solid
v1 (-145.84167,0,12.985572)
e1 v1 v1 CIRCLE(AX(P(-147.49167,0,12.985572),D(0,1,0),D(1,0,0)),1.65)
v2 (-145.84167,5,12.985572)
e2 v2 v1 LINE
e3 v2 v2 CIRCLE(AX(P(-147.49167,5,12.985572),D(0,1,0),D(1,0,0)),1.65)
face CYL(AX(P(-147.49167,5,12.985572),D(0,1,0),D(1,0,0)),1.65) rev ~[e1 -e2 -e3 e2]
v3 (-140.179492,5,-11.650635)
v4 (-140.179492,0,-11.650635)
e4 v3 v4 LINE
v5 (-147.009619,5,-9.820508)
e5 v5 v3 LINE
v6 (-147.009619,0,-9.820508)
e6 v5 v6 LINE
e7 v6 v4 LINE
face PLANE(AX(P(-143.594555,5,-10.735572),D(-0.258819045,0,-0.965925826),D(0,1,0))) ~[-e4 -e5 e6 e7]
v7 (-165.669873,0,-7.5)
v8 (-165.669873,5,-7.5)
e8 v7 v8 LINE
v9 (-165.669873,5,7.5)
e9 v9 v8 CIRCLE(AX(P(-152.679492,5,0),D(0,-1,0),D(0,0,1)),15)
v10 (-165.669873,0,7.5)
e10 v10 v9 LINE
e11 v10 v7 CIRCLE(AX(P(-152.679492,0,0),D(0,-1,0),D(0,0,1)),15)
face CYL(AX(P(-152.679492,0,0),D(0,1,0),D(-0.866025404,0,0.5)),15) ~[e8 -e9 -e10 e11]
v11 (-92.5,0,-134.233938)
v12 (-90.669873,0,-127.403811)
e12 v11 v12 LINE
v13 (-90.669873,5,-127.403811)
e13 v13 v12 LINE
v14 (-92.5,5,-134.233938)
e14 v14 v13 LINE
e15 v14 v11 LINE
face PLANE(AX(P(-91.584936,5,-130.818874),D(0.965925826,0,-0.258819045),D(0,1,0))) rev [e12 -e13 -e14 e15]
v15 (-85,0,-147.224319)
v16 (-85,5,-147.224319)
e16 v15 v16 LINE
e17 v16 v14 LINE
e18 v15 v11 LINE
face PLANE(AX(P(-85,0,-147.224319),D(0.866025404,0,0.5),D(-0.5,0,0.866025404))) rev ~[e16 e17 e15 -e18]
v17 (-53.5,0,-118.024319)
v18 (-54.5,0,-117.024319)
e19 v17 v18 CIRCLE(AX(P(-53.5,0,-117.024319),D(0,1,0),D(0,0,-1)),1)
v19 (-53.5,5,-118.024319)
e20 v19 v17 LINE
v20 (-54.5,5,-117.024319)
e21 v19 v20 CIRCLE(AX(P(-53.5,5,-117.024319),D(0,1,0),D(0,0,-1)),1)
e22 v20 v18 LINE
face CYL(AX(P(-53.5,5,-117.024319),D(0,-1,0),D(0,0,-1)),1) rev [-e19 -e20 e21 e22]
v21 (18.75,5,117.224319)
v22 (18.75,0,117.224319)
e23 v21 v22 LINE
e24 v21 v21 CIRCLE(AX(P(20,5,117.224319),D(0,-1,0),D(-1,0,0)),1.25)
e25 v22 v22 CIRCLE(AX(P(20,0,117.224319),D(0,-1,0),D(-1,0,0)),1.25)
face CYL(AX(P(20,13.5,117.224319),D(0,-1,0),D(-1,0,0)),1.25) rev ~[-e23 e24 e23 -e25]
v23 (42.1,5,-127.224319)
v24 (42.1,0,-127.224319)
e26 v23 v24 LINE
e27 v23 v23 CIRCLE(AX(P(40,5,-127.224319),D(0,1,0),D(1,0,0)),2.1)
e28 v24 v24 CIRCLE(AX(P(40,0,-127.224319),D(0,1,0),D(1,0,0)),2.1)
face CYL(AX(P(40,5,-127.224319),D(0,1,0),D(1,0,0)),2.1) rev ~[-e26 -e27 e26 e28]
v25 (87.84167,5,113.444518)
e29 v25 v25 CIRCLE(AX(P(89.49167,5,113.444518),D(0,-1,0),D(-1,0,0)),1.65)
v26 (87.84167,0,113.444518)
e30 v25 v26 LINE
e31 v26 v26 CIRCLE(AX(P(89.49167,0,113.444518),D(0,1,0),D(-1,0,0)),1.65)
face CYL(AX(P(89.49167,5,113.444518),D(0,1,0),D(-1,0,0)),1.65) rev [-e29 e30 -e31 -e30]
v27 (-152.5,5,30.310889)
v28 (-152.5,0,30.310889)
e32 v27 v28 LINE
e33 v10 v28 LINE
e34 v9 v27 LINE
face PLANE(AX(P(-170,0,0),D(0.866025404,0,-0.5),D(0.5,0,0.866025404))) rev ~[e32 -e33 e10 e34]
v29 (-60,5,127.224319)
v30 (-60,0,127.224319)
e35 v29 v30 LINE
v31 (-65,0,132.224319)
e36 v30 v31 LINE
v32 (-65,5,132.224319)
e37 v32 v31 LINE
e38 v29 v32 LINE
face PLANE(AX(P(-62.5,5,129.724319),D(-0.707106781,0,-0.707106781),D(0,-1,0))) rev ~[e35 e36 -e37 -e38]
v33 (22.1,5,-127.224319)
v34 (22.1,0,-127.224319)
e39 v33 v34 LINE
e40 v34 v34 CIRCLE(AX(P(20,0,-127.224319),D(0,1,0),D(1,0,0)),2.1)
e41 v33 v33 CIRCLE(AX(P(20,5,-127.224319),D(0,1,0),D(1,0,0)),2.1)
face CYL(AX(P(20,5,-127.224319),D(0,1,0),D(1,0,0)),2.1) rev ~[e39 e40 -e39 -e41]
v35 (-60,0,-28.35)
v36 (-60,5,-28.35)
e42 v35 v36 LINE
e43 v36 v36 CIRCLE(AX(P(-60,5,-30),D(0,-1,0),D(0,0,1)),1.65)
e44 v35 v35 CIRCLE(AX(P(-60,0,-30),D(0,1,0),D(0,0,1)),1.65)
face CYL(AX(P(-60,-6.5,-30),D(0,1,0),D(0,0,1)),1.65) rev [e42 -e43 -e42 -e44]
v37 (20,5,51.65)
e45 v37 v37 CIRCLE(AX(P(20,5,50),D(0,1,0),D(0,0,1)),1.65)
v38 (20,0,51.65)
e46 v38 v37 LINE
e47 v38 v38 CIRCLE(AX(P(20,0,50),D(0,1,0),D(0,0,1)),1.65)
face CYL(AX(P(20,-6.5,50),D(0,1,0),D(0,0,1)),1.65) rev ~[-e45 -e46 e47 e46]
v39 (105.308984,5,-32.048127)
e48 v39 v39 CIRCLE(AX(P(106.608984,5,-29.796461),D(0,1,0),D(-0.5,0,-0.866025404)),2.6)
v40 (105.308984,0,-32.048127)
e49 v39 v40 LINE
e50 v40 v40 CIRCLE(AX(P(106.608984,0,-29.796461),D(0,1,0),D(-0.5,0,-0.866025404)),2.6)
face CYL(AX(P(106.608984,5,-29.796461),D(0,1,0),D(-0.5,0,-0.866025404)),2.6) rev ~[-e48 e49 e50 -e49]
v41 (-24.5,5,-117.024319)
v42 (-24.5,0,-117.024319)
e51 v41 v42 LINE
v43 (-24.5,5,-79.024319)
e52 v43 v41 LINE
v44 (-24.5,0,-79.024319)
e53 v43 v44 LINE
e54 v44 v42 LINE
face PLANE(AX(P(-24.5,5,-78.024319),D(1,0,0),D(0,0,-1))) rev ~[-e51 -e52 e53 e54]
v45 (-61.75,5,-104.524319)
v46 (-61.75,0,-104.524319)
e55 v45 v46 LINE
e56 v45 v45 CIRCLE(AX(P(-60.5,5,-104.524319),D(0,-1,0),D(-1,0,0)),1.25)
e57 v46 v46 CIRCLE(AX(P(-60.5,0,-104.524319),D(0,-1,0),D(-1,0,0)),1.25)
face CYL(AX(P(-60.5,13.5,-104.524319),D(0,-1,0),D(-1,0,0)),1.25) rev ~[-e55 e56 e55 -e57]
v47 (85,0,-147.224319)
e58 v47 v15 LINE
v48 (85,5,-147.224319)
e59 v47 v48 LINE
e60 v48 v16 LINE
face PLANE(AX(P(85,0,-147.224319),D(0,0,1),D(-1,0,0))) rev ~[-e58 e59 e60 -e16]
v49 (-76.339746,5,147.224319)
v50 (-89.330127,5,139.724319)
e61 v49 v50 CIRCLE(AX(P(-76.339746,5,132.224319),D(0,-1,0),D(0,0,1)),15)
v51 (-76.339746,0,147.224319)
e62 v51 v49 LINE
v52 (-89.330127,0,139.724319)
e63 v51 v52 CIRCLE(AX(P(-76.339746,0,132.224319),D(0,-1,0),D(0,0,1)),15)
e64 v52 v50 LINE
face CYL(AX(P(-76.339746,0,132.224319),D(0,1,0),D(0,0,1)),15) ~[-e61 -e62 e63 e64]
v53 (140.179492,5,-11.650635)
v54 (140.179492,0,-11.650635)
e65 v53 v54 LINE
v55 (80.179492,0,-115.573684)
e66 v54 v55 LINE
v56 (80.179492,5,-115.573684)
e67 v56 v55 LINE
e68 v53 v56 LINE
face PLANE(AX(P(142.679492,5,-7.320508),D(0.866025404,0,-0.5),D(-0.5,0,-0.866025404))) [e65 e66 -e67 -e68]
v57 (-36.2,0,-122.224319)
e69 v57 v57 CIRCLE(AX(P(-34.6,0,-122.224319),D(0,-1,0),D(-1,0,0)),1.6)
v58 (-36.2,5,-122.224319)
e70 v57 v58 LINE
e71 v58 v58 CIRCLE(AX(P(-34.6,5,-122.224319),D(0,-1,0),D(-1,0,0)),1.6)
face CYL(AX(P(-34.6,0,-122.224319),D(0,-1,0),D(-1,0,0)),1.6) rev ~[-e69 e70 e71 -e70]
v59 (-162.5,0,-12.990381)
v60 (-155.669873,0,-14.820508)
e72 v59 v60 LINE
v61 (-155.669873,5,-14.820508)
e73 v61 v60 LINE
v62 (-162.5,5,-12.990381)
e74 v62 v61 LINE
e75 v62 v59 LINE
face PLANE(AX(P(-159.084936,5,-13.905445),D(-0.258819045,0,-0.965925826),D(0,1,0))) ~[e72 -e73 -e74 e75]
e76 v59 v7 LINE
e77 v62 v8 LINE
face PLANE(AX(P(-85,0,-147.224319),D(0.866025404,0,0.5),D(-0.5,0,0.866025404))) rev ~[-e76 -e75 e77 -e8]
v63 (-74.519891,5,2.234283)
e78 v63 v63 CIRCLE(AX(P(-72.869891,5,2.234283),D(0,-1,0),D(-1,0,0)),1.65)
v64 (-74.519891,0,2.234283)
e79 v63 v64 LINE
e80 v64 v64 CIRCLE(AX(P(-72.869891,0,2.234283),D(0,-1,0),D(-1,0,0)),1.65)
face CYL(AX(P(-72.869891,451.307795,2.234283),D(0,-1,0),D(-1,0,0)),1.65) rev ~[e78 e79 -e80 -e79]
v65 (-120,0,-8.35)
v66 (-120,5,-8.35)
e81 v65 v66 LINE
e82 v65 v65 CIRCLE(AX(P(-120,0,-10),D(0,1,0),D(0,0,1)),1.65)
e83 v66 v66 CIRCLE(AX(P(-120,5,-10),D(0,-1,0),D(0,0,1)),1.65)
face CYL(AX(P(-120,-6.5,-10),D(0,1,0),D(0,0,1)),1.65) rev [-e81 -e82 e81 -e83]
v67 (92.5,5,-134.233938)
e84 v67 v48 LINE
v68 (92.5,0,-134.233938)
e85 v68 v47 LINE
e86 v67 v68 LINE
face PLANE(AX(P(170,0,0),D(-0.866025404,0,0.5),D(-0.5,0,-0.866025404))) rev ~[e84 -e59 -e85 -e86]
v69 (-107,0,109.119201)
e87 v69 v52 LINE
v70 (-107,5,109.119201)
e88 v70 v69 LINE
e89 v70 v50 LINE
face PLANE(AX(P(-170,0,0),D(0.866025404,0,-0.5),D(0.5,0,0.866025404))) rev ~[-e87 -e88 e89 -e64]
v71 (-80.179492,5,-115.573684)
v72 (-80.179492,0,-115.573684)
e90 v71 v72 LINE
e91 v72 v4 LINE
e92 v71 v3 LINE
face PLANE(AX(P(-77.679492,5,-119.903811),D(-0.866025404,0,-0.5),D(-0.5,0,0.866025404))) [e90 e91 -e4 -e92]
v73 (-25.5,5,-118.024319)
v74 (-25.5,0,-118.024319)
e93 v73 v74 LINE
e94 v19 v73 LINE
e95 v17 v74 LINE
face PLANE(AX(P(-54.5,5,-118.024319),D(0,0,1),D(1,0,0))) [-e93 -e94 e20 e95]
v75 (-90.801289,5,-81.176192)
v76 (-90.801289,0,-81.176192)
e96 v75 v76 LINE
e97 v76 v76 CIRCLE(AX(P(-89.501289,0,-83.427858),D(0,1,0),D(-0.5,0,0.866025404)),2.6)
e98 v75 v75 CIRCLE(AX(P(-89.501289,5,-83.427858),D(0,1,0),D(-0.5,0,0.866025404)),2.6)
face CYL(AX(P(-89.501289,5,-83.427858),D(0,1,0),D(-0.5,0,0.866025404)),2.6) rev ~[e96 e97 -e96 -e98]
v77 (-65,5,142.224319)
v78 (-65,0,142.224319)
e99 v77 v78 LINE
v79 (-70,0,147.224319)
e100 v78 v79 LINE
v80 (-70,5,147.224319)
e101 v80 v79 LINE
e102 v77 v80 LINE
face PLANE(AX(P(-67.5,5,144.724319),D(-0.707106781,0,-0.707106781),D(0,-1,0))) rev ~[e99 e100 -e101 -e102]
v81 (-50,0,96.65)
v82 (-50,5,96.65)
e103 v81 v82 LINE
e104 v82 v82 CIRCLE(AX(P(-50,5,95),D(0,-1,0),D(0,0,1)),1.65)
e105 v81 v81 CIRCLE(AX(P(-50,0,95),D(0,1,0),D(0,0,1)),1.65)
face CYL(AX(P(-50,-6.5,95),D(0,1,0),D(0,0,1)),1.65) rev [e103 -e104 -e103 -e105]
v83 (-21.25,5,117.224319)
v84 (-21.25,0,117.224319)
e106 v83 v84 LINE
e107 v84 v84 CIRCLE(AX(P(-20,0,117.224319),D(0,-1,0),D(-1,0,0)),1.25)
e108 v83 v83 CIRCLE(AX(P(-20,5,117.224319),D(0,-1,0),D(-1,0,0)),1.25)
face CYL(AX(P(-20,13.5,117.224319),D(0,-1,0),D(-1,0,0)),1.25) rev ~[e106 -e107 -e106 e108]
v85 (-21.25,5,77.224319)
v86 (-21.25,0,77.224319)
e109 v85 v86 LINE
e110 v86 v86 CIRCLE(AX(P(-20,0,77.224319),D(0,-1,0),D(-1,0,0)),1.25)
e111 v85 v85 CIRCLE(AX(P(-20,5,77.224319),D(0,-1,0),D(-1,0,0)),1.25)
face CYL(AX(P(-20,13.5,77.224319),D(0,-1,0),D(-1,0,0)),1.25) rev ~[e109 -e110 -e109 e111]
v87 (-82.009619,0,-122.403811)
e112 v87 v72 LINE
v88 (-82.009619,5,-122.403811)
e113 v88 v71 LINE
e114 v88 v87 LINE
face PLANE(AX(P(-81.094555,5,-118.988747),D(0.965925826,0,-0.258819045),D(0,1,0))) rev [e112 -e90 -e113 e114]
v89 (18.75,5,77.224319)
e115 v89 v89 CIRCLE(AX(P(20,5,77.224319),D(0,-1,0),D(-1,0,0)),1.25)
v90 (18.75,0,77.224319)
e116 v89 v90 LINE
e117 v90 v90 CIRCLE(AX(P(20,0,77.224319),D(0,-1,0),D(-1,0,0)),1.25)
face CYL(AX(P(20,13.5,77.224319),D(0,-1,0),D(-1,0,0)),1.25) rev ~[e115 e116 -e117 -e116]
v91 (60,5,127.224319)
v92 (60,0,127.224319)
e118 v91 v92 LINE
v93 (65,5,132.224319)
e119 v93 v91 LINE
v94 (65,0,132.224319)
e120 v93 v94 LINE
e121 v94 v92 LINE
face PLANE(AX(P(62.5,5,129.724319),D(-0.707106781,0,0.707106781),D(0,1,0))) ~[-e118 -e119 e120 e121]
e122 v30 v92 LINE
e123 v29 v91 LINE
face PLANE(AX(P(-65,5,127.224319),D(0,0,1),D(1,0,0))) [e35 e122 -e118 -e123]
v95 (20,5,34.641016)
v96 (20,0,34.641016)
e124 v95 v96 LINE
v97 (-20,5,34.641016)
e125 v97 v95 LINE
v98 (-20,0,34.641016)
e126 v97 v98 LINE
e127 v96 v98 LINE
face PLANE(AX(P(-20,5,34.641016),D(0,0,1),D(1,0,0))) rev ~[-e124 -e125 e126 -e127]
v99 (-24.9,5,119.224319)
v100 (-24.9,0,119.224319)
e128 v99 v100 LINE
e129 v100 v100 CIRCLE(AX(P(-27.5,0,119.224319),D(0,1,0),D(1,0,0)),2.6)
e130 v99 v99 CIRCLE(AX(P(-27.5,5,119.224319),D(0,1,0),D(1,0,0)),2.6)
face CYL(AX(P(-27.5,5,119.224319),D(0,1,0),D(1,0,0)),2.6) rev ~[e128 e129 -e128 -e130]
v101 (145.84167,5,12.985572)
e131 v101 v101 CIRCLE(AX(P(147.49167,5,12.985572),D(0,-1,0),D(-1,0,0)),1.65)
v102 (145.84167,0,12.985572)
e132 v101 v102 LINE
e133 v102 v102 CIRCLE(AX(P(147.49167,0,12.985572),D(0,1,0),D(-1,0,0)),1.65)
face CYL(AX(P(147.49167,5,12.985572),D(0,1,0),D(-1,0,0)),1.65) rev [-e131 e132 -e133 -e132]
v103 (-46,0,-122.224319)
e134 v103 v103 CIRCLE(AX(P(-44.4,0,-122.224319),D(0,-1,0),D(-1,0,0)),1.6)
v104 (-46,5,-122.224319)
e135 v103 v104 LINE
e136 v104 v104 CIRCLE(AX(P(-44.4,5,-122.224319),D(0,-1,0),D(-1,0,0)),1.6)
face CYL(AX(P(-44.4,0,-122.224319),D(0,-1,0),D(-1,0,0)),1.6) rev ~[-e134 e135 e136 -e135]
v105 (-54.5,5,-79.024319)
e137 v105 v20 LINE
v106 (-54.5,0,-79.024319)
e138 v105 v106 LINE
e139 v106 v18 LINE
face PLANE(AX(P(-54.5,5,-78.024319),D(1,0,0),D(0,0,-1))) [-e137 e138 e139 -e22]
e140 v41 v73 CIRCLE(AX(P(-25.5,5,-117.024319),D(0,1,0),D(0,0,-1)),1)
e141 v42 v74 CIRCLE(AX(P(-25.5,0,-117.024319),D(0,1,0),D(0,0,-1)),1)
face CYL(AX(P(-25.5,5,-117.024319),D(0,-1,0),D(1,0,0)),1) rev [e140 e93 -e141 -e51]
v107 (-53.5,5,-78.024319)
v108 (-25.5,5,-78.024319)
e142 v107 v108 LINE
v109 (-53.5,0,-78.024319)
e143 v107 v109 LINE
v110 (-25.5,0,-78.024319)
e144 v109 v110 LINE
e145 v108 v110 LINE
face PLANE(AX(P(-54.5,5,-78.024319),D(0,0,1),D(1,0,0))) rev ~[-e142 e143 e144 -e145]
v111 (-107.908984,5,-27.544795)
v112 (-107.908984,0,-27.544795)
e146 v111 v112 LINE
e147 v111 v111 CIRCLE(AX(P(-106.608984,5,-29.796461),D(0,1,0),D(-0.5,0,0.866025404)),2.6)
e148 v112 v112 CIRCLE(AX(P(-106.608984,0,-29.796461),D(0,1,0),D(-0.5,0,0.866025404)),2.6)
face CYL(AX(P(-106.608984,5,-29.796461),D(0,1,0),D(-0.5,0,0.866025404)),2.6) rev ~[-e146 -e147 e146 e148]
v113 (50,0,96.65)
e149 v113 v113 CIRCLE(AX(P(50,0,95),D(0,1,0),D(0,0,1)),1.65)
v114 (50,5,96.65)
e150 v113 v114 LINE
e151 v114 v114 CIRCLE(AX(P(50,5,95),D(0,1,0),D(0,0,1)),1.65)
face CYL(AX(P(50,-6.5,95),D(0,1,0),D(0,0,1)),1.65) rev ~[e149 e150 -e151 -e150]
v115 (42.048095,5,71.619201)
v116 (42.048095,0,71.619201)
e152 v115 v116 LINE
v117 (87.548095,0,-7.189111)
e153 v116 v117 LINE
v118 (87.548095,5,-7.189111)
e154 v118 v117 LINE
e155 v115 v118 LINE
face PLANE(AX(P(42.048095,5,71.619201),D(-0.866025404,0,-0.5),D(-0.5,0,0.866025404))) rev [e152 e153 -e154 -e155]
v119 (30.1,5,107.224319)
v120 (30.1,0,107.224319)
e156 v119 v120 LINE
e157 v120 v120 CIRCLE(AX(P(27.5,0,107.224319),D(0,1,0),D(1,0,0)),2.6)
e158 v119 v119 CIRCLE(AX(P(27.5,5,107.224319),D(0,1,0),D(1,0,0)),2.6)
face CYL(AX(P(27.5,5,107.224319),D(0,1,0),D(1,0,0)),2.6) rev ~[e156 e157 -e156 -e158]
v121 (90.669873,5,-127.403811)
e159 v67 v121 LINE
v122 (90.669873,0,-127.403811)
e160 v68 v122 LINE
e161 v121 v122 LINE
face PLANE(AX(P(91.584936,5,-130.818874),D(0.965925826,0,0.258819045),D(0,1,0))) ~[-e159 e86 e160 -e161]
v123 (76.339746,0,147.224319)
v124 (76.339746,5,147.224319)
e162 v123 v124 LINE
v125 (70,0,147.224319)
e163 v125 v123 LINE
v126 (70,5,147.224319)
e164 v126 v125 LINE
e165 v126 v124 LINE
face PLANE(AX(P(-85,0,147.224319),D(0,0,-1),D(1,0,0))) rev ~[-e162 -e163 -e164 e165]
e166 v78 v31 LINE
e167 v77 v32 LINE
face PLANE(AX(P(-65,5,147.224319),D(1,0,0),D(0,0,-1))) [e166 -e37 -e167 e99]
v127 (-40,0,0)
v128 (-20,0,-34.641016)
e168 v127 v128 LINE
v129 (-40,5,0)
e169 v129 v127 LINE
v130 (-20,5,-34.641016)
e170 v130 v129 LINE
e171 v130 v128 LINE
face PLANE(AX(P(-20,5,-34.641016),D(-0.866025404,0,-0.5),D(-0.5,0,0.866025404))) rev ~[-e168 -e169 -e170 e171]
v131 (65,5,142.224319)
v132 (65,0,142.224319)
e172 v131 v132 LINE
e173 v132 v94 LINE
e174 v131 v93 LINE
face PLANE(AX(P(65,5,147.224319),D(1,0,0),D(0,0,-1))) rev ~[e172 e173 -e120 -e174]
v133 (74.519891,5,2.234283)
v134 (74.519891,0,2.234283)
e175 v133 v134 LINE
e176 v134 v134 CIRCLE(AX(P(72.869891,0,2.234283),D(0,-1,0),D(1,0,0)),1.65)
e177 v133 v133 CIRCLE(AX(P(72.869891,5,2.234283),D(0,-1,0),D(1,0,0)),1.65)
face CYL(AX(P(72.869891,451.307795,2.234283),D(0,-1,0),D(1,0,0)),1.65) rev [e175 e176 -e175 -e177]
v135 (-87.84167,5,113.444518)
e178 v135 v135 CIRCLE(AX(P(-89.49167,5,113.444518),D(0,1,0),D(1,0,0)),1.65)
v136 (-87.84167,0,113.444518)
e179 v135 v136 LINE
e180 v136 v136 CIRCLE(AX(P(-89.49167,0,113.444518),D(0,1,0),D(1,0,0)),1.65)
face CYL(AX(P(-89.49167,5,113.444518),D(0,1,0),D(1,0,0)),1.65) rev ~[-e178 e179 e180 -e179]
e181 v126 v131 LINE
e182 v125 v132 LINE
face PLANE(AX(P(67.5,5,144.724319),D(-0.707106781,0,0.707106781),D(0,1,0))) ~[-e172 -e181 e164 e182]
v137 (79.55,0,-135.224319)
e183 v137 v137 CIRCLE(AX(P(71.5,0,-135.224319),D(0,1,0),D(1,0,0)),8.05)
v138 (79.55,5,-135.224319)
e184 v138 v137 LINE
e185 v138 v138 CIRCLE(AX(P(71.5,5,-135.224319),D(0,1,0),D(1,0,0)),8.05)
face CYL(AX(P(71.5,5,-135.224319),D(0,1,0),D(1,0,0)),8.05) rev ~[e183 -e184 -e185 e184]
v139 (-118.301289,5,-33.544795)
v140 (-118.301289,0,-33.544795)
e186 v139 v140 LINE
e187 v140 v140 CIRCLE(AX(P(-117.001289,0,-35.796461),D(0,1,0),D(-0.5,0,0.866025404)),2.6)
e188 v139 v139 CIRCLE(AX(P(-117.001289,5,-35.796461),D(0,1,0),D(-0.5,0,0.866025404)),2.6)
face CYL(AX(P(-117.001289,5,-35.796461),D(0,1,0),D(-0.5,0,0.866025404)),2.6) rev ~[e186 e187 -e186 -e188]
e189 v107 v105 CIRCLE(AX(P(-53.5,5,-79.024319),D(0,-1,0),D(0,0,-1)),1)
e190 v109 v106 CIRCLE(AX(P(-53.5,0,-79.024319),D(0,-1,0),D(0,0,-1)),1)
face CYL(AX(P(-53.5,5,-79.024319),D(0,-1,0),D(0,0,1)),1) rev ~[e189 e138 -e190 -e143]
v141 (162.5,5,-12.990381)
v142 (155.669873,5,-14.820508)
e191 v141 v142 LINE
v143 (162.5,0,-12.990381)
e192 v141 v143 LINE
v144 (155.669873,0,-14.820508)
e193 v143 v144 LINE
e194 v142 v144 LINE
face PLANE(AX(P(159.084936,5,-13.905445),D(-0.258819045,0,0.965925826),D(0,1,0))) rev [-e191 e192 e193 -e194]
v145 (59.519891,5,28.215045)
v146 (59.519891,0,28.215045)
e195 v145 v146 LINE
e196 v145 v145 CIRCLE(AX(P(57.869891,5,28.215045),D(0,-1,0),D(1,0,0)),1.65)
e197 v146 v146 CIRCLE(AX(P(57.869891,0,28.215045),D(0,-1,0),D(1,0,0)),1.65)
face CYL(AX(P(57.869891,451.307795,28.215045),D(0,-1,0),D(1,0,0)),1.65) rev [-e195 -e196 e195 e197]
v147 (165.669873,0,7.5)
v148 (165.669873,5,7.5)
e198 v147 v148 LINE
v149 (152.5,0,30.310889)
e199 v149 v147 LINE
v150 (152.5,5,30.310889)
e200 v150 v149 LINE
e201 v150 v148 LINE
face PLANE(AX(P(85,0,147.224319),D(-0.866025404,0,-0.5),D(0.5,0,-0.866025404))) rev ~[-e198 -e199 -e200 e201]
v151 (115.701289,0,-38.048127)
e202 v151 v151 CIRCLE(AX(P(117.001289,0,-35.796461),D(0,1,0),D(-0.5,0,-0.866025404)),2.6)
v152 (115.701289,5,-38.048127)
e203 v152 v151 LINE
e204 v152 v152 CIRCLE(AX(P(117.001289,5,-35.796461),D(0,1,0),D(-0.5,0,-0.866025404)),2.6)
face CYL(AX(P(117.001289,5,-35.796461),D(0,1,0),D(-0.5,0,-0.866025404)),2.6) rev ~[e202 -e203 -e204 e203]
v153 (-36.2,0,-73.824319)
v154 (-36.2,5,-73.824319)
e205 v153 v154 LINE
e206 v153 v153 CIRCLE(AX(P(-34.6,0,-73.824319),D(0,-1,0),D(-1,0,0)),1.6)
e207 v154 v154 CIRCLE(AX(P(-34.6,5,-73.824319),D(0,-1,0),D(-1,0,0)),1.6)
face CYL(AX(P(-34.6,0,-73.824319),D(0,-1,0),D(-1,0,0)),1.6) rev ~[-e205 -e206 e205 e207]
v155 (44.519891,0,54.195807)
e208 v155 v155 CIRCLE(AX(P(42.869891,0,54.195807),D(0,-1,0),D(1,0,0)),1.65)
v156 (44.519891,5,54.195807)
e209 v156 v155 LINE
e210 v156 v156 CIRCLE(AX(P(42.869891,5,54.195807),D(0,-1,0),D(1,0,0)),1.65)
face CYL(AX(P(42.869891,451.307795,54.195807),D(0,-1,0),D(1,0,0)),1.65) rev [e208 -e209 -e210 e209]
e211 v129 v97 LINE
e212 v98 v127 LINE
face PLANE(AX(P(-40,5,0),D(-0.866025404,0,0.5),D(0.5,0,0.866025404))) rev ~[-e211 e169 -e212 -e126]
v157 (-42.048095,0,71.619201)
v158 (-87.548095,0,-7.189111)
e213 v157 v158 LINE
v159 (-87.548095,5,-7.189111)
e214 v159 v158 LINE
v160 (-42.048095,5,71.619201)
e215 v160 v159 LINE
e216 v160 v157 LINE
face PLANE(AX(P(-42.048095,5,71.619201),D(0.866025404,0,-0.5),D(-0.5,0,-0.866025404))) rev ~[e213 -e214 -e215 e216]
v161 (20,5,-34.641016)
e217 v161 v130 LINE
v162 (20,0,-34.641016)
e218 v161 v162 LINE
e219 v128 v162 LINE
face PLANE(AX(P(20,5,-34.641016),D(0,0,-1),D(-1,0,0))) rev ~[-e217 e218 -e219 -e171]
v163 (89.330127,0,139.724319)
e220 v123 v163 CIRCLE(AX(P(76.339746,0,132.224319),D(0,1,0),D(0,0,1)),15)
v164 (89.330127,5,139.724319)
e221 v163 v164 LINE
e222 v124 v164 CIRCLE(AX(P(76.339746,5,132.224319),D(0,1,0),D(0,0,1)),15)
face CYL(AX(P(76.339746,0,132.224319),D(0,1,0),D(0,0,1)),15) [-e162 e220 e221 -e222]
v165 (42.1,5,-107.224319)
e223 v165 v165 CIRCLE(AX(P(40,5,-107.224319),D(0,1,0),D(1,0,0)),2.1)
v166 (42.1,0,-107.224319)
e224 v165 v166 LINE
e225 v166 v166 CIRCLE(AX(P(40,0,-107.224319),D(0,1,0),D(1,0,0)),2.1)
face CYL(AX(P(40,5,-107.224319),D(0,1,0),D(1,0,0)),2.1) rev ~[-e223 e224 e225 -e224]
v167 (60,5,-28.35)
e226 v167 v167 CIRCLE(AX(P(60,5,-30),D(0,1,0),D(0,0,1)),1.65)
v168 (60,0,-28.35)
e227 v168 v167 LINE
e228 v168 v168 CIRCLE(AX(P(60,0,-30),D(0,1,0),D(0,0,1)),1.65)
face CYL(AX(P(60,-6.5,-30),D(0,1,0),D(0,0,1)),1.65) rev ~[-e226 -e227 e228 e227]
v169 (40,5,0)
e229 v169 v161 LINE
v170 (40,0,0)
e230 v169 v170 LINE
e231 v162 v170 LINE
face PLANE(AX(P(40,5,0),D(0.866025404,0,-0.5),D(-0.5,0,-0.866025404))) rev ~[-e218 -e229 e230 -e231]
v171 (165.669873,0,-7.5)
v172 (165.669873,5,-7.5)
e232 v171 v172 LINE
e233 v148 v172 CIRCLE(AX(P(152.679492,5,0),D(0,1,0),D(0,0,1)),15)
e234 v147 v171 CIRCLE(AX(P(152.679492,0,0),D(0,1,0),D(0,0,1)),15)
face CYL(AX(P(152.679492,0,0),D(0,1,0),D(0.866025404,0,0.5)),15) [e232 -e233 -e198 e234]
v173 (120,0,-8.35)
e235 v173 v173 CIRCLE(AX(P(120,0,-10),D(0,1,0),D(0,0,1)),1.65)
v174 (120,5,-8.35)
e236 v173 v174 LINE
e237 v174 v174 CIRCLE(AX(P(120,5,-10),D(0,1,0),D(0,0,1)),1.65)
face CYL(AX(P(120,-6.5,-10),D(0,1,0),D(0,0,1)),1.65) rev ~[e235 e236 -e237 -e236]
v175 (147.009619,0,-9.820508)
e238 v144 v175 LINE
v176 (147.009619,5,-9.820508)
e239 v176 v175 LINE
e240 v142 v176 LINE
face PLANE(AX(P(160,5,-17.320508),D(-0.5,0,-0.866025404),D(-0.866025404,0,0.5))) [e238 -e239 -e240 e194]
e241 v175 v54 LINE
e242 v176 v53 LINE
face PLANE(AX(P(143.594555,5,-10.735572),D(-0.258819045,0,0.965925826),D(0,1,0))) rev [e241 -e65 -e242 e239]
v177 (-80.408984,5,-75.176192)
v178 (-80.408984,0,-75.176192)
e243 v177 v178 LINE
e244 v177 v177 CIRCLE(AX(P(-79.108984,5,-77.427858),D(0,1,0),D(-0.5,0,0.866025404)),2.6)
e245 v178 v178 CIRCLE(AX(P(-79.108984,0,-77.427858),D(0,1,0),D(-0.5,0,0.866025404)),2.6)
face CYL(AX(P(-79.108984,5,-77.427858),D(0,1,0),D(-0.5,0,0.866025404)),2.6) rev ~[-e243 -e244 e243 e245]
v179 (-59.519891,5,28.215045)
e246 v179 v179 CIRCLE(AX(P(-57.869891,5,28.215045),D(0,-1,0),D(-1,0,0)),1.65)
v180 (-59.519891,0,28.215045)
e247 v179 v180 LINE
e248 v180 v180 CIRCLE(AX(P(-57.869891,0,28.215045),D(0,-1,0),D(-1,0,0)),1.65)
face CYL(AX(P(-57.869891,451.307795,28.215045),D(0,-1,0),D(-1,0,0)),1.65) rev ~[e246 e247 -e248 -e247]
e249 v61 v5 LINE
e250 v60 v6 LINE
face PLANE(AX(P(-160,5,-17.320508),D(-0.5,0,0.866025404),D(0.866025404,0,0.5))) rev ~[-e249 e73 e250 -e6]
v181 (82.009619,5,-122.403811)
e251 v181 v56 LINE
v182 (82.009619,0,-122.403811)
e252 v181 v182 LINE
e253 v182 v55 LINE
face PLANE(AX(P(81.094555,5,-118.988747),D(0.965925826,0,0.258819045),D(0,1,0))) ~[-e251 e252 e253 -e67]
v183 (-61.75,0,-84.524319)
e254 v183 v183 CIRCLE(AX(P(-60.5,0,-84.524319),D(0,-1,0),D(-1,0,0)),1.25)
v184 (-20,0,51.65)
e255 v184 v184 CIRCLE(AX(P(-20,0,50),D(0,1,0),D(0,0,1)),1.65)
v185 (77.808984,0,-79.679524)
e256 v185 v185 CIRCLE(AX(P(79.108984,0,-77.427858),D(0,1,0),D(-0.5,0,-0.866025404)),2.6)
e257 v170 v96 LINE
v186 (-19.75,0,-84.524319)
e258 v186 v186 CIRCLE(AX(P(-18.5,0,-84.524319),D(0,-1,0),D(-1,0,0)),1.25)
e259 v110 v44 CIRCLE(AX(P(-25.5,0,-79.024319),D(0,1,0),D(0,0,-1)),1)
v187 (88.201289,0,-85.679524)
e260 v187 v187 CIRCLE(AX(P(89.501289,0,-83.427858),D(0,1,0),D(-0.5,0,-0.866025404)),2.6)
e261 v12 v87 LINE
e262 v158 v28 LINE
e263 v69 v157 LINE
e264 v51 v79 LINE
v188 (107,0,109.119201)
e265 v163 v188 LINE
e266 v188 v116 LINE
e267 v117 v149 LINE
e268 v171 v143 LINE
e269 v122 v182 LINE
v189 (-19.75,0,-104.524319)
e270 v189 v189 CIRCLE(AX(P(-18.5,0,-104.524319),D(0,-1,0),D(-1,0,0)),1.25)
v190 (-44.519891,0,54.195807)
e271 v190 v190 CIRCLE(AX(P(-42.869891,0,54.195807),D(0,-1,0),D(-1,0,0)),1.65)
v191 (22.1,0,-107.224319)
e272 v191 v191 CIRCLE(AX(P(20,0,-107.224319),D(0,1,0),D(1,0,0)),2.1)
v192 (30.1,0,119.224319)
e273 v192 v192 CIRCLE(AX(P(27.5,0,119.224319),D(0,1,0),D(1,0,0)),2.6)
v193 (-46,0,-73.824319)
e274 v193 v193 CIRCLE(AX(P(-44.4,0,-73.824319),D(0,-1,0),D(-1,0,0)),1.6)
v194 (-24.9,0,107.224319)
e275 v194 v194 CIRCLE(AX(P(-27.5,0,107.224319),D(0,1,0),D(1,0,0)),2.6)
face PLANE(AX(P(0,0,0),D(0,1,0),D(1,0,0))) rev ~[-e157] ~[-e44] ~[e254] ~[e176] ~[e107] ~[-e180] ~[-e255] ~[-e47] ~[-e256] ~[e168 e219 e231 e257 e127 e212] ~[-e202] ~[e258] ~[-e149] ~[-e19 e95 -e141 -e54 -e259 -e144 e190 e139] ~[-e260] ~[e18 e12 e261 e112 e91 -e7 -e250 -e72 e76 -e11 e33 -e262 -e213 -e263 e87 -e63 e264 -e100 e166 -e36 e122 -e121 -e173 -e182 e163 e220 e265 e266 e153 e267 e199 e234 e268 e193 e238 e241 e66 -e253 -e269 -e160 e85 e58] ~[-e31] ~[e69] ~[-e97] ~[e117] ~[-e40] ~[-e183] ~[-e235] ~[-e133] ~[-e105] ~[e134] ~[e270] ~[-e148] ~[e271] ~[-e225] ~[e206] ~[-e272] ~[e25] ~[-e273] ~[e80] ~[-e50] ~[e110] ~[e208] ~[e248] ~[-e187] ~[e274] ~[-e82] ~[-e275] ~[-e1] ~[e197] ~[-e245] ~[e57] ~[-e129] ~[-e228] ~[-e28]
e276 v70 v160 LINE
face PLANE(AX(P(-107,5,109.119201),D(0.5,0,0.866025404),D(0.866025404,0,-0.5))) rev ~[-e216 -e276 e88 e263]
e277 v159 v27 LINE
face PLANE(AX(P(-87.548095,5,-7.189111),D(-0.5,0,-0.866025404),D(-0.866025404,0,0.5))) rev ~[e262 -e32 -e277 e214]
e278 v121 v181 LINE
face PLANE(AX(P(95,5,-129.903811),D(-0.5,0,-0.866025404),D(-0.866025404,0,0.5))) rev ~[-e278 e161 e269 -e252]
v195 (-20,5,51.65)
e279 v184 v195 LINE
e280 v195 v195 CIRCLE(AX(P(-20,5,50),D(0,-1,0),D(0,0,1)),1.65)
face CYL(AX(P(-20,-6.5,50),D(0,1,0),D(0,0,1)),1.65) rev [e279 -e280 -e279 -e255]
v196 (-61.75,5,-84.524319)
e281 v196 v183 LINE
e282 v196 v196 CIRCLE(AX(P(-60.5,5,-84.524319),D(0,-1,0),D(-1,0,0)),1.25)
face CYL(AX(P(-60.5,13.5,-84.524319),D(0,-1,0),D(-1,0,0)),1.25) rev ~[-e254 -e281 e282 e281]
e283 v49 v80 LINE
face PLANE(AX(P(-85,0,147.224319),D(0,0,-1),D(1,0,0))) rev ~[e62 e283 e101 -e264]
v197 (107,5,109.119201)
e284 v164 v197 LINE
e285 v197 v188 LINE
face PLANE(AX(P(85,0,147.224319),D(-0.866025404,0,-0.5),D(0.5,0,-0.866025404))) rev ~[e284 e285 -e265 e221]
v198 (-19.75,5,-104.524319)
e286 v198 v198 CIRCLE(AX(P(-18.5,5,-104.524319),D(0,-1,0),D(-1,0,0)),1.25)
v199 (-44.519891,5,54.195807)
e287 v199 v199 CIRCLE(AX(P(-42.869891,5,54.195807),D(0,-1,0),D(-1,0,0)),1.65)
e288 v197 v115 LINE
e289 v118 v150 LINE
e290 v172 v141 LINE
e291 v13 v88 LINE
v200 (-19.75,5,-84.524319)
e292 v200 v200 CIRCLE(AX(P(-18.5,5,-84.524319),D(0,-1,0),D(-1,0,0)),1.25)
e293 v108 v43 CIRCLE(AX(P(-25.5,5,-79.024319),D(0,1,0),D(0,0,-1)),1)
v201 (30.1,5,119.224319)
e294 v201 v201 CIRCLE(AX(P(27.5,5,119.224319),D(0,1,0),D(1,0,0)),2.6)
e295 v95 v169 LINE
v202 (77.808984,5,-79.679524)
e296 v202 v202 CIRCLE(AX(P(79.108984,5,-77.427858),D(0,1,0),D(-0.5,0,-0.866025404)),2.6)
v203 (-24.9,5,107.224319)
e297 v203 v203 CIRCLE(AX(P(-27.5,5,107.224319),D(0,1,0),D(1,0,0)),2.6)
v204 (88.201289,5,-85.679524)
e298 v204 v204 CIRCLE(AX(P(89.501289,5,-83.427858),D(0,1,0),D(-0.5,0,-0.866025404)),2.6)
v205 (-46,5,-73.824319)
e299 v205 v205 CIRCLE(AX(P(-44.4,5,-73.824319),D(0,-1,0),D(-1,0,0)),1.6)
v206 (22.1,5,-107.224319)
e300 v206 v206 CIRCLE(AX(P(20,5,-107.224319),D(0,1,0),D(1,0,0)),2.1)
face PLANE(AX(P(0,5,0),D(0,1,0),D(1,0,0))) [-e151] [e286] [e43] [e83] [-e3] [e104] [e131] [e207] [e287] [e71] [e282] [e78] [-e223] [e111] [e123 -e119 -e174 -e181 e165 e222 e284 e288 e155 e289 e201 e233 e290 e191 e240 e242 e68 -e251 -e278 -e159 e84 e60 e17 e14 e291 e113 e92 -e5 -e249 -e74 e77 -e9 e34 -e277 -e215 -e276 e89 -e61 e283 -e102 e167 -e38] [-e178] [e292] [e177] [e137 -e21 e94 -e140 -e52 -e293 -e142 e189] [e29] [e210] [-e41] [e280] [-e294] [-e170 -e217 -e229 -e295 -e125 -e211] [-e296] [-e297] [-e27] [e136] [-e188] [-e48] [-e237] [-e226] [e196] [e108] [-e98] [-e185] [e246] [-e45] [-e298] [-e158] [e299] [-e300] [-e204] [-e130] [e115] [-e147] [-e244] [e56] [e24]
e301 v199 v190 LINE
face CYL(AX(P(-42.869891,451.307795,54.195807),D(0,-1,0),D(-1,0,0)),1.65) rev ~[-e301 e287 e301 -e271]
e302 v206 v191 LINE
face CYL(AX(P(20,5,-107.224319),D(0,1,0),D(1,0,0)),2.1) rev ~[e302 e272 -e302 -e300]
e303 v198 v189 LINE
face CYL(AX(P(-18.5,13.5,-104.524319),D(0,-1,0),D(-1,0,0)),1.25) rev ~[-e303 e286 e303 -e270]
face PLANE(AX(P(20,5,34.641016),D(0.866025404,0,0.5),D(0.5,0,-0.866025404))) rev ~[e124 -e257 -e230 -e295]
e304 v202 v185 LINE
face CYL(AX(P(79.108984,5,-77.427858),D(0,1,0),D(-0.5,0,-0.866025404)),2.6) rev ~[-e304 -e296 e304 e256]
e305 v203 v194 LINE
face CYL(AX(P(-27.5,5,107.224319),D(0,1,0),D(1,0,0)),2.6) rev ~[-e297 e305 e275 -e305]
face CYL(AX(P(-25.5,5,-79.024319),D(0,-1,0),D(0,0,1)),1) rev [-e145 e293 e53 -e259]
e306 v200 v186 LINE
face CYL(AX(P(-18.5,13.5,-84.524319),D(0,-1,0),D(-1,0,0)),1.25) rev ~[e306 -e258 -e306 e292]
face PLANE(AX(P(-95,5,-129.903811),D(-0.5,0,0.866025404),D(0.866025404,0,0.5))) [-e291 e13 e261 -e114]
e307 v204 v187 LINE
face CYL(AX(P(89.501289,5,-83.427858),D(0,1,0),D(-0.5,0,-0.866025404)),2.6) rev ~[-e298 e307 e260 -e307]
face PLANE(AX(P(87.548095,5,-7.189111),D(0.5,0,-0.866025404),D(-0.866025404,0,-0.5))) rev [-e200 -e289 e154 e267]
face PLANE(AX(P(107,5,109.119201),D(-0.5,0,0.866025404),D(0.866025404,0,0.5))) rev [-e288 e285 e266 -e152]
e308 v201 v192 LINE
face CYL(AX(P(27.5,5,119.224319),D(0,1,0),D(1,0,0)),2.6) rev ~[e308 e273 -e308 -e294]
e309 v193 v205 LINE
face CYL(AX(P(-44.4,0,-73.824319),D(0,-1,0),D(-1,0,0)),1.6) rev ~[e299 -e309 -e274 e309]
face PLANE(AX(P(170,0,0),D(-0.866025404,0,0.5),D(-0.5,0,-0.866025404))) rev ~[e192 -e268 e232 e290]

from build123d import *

# Parameters (mm, degrees)
EXTRUDE_1_DEPTH             = 5
CUT_EXTRUDE_31_REACH        = 226.944
SKETCH_46_W                 = 130
SKETCH_46_H                 = 20
SKETCH_8_R                  = 2.6
CUT_EXTRUDE_6_DEPTH         = 225.944437584
PATTERN_CIRCULAR_1_COUNT    = 3
CHAMFER_1_SIZE              = 5
CUT_EXTRUDE_4_DEPTH         = 225.944437584
SKETCH_9_R                  = 1.65
CUT_EXTRUDE_7_DEPTH         = 225.944437584
FILLET_1_R                  = 15
M4X0_7_4_D                  = 3.3
CUT_EXTRUDE_35_REACH        = 225.196
CUT_EXTRUDE_37_REACH        = 225.196
SKETCH_53_R                 = 2.1
PATTERN_LINEAR_1_COUNT      = 2
PATTERN_LINEAR_1_PITCH      = 20
PATTERN_LINEAR_1_COUNT_DIR2 = 2
PATTERN_LINEAR_1_PITCH_DIR2 = 20
CUT_EXTRUDE_38_REACH        = 225.196
SKETCH_54_R                 = 8.05
SKETCH_56_R                 = 1.6
CUT_EXTRUDE_40_DEPTH        = 10
SKETCH_55_W                 = 30
SKETCH_55_H                 = 40
CUT_EXTRUDE_39_DEPTH        = 10
FILLET_2_R                  = 1
M3X0_5_1_D                  = 2.5
M3X0_5_1_DEPTH              = 8.5
M3X0_5_1_TIP                = 0.751075774
M4X0_7_5_AT_2_COUNT         = 2
M4X0_7_5_AT_2_PITCH         = 126.194294641
M4X0_7_5_AT_3_COUNT         = 2
M4X0_7_5_AT_3_PITCH         = 125.39936204
M4X0_7_5_AT_4_COUNT         = 2
M4X0_7_5_AT_4_PITCH         = 54.083269132
M3X0_5_2_D                  = 2.5
M3X0_5_2_DEPTH              = 8.5
M3X0_5_2_TIP                = 0.751075774


with BuildPart() as part:
    # 草圖1 → 填料-伸長1 (new body)
    with BuildSketch(Plane(origin=(0, 0, 0), x_dir=(1, 0, 0), z_dir=(0, 1, 0))):
        Polygon((85, 147.224318643), (-85, 147.224318643), (-170, 0), (-85, -147.224318643), (85, -147.224318643), (170, 0), align=None)
    extrude(amount=EXTRUDE_1_DEPTH)

    # 草圖46 → 除料-伸長31 (cut, up to next)
    with BuildSketch(Plane(origin=(0, 5, 0), x_dir=(1, 0, 0), z_dir=(0, 1, 0)), mode=Mode.PRIVATE) as cut_extrude_31_sk1:
        with Locations((0, -137.224318643)):
            Rectangle(SKETCH_46_W, SKETCH_46_H)
    cut_extrude_31_tool1 = extrude(cut_extrude_31_sk1.sketch, amount=-CUT_EXTRUDE_31_REACH, mode=Mode.PRIVATE) & part.part
    cut_extrude_31 = cut_extrude_31_tool1.solids().sort_by_distance((0, 5, 137.224319))[0]
    add(cut_extrude_31, mode=Mode.SUBTRACT)

    # 草圖8 → 除料-伸長6 (cut, through all)
    with BuildSketch(Plane(origin=(0, 5, 0), x_dir=(1, 0, 0), z_dir=(0, 1, 0))):
        with Locations((-27.5, -119.224318643)):
            Circle(SKETCH_8_R)
        with Locations((27.5, -119.224318643)):
            Circle(SKETCH_8_R)
        with Locations((-27.5, -107.224318643)):
            Circle(SKETCH_8_R)
        with Locations((27.5, -107.224318643)):
            Circle(SKETCH_8_R)
    cut_extrude_6 = extrude(amount=-CUT_EXTRUDE_6_DEPTH, mode=Mode.SUBTRACT)

    # 環狀複製排列1: 除料-伸長31, 除料-伸長6 ×3 about axis
    pattern_circular_1_axis = Axis((0, -0.25, 0), (0, 1, 0))
    add([cut_extrude_31.rotate(pattern_circular_1_axis, i * 360 / PATTERN_CIRCULAR_1_COUNT) for i in range(1, PATTERN_CIRCULAR_1_COUNT)], mode=Mode.SUBTRACT)
    add([cut_extrude_6.rotate(pattern_circular_1_axis, i * 360 / PATTERN_CIRCULAR_1_COUNT) for i in range(1, PATTERN_CIRCULAR_1_COUNT)], mode=Mode.SUBTRACT)

    # 導角1
    chamfer_1_edges = [part.edges().sort_by_distance(p)[0] for p in [
        (65, 2.5, 127.224318643),
        (65, 2.5, 147.224318643),
        (-65, 2.5, 147.224318643),
        (-65, 2.5, 127.224318643),
        (77.679491924, 2.5, -119.903810568),
        (95, 2.5, -129.903810568),
        (160, 2.5, -17.320508076),
        (142.679491924, 2.5, -7.320508076),
        (-160, 2.5, -17.320508076),
        (-142.679491924, 2.5, -7.320508076),
        (-77.679491924, 2.5, -119.903810568),
        (-95, 2.5, -129.903810568),
    ]]
    chamfer(chamfer_1_edges, length=CHAMFER_1_SIZE)

    # 草圖5 → 除料-伸長4 (cut, through all)
    with BuildSketch(Plane(origin=(0, 5, 0), x_dir=(1, 0, 0), z_dir=(0, 1, 0))):
        Polygon((-152.5, -30.310889132), (-107, -109.119200877), (-42.048094716, -71.619200877), (-87.548094716, 7.189110868), align=None)
    cut_extrude_4 = extrude(amount=-CUT_EXTRUDE_4_DEPTH, mode=Mode.SUBTRACT)

    # 草圖9 → 除料-伸長7 (cut, through all)
    with BuildSketch(Plane(origin=(0, 5, 0), x_dir=(1, 0, 0), z_dir=(0, 1, 0))):
        with Locations((-89.491669751, -113.444518424)):
            Circle(SKETCH_9_R)
        with Locations((-147.491669751, -12.985571585)):
            Circle(SKETCH_9_R)
    cut_extrude_7 = extrude(amount=-CUT_EXTRUDE_7_DEPTH, mode=Mode.SUBTRACT)

    # 鏡射1: 除料-伸長4, 除料-伸長7 across plane
    add(cut_extrude_4.mirror(Plane(origin=(0, 0, 0), x_dir=(0, 0, 1), z_dir=(1, 0, 0))), mode=Mode.SUBTRACT)
    add(cut_extrude_7.mirror(Plane(origin=(0, 0, 0), x_dir=(0, 0, 1), z_dir=(1, 0, 0))), mode=Mode.SUBTRACT)

    # 圓角1
    fillet_1_edges = [part.edges().sort_by_distance(p)[0] for p in [
        (170, 2.5, 0),
        (85, 2.5, 147.224318643),
        (-170, 2.5, 0),
        (-85, 2.5, 147.224318643),
    ]]
    fillet(fillet_1_edges, radius=FILLET_1_R)

    # M4x0.7 螺紋孔4 (through all)
    with Locations(Plane(origin=(0, 5, 0), x_dir=(1, 0, 0), z_dir=(0, 1, 0))):
        with Locations((-72.869891486, -2.234282891), (-57.869891486, -28.215045005), (-42.869891486, -54.195807118)):
            m4x0_7_4 = Hole(M4X0_7_4_D / 2)

    # 鏡射2: M4x0.7 螺紋孔4 across plane
    add(m4x0_7_4.mirror(Plane(origin=(0, 0, 0), x_dir=(0, 0, 1), z_dir=(1, 0, 0))), mode=Mode.SUBTRACT)

    # 草圖51 → 除料-伸長35 (cut, up to next)
    with BuildSketch(Plane(origin=(0, 5, 0), x_dir=(1, 0, 0), z_dir=(0, 1, 0)), mode=Mode.PRIVATE) as cut_extrude_35_sk1:
        Polygon((20, 34.641016151), (-20, 34.641016151), (-40, 0), (-20, -34.641016151), (20, -34.641016151), (40, 0), align=None)
    cut_extrude_35_tool1 = extrude(cut_extrude_35_sk1.sketch, amount=-CUT_EXTRUDE_35_REACH, mode=Mode.PRIVATE) & part.part
    add(cut_extrude_35_tool1.solids().sort_by_distance((0, 5, 0))[0], mode=Mode.SUBTRACT)

    # 草圖53 → 除料-伸長37 (cut, up to next)
    with BuildSketch(Plane(origin=(0, 5, 0), x_dir=(1, 0, 0), z_dir=(0, 1, 0)), mode=Mode.PRIVATE) as cut_extrude_37_sk1:
        with Locations((20, 127.224318643)):
            Circle(SKETCH_53_R)
    cut_extrude_37_tool1 = extrude(cut_extrude_37_sk1.sketch, amount=-CUT_EXTRUDE_37_REACH, mode=Mode.PRIVATE) & part.part
    cut_extrude_37 = cut_extrude_37_tool1.solids().sort_by_distance((20, 5, -127.224319))[0]
    add(cut_extrude_37, mode=Mode.SUBTRACT)

    # 直線複製排列1: Cut-Extrude 37 2 × 2
    with Locations(*[(i * PATTERN_LINEAR_1_PITCH, 0, j * PATTERN_LINEAR_1_PITCH_DIR2) for i in range(PATTERN_LINEAR_1_COUNT) for j in range(PATTERN_LINEAR_1_COUNT_DIR2) if (i, j) != (0, 0)]):
        add(cut_extrude_37, mode=Mode.SUBTRACT)

    # 草圖54 → 除料-伸長38 (cut, up to next)
    with BuildSketch(Plane(origin=(0, 5, 0), x_dir=(1, 0, 0), z_dir=(0, 1, 0)), mode=Mode.PRIVATE) as cut_extrude_38_sk1:
        with Locations((71.5, 135.224318643)):
            Circle(SKETCH_54_R)
    cut_extrude_38_tool1 = extrude(cut_extrude_38_sk1.sketch, amount=-CUT_EXTRUDE_38_REACH, mode=Mode.PRIVATE) & part.part
    add(cut_extrude_38_tool1.solids().sort_by_distance((71.5, 5, -135.224319))[0], mode=Mode.SUBTRACT)

    # 草圖56 → 除料-伸長40 (cut)
    with BuildSketch(Plane(origin=(0, 0, 0), x_dir=(-1, 0, 0), z_dir=(0, -1, 0))):
        with Locations((34.6, 122.224318643)):
            Circle(SKETCH_56_R)
        with Locations((44.4, 122.224318643)):
            Circle(SKETCH_56_R)
        with Locations((44.4, 73.824318643)):
            Circle(SKETCH_56_R)
        with Locations((34.6, 73.824318643)):
            Circle(SKETCH_56_R)
    extrude(amount=-CUT_EXTRUDE_40_DEPTH, mode=Mode.SUBTRACT)

    # 草圖55 → 除料-伸長39 (cut)
    with BuildSketch(Plane(origin=(0, 5, 0), x_dir=(1, 0, 0), z_dir=(0, 1, 0))):
        with Locations((-39.5, 98.024318643)):
            Rectangle(SKETCH_55_W, SKETCH_55_H)
    extrude(amount=-CUT_EXTRUDE_39_DEPTH, mode=Mode.SUBTRACT)

    # 圓角2
    fillet_2_edges = [part.edges().sort_by_distance(p)[0] for p in [
        (-54.5, 2.5, -78.024318643),
        (-24.5, 2.5, -78.024318643),
        (-24.5, 2.5, -118.024318643),
        (-54.5, 2.5, -118.024318643),
    ]]
    fillet(fillet_2_edges, radius=FILLET_2_R)

    # M3x0.5 螺紋孔1
    with Locations(Plane(origin=(0, 5, 0), x_dir=(1, 0, 0), z_dir=(0, 1, 0))):
        with Locations((-60.5, 104.524318643), (-60.5, 84.524318643), (-18.5, 84.524318643), (-18.5, 104.524318643)):
            Hole(M3X0_5_1_D / 2, depth=M3X0_5_1_DEPTH)
            with Locations((0, 0, -(M3X0_5_1_DEPTH + M3X0_5_1_TIP / 2))):  # 118° drill point
                Cone(0, M3X0_5_1_D / 2, M3X0_5_1_TIP, mode=Mode.SUBTRACT)

    # 草圖61 → M4x0.7 螺紋孔5 (revolve, cut)
    with BuildSketch(Plane(origin=(-50, 5, 95), x_dir=(0, 0, 1), z_dir=(1, 0, 0))):
        Polygon((0, 0), (0, 12.491420021), (1.65, 11.5), (1.65, 0), align=None)
    m4x0_7_5 = revolve(axis=Axis((-50, 11.35, 95), (0, -1, 0)), mode=Mode.SUBTRACT)

    # M4x0.7 螺紋孔5 at 2: M4x0.7 螺紋孔5 ×2
    with Locations(*[Vector(-0.5547001962252291, 0, -0.8320502943378437) * (i * M4X0_7_5_AT_2_PITCH) for i in range(1, M4X0_7_5_AT_2_COUNT)]):
        add(m4x0_7_5, mode=Mode.SUBTRACT)

    # M4x0.7 螺紋孔5 at 3: M4x0.7 螺紋孔5 ×2
    with Locations(*[Vector(-0.07974522228289006, 0, -0.9968152785361251) * (i * M4X0_7_5_AT_3_PITCH) for i in range(1, M4X0_7_5_AT_3_COUNT)]):
        add(m4x0_7_5, mode=Mode.SUBTRACT)

    # M4x0.7 螺紋孔5 at 4: M4x0.7 螺紋孔5 ×2
    with Locations(*[Vector(0.5547001962252291, 0, -0.8320502943378437) * (i * M4X0_7_5_AT_4_PITCH) for i in range(1, M4X0_7_5_AT_4_COUNT)]):
        add(m4x0_7_5, mode=Mode.SUBTRACT)

    # 鏡射3: M4x0.7 螺紋孔5 across plane
    add(m4x0_7_5.mirror(Plane(origin=(0, 0, 0), x_dir=(0, 0, 1), z_dir=(1, 0, 0))), mode=Mode.SUBTRACT)

    # 鏡射3 copy 1 sketch → 鏡射3 copy 1 (revolve, cut)
    with BuildSketch(Plane(origin=(120, 5, -10), x_dir=(0, 0, 1), z_dir=(-1, 0, 0))):
        Polygon((0, 0), (0, -12.491420021), (1.65, -11.5), (1.65, 0), align=None)
    revolve(axis=Axis((120, 11.35, -10), (0, 1, 0)), mode=Mode.SUBTRACT)

    # 鏡射3 copy 2 sketch → 鏡射3 copy 2 (revolve, cut)
    with BuildSketch(Plane(origin=(60, 5, -30), x_dir=(0, 0, 1), z_dir=(-1, 0, 0))):
        Polygon((0, 0), (0, -12.491420021), (1.65, -11.5), (1.65, 0), align=None)
    revolve(axis=Axis((60, 11.35, -30), (0, 1, 0)), mode=Mode.SUBTRACT)

    # 鏡射3 copy 3 sketch → 鏡射3 copy 3 (revolve, cut)
    with BuildSketch(Plane(origin=(20, 5, 50), x_dir=(0, 0, 1), z_dir=(-1, 0, 0))):
        Polygon((0, 0), (0, -12.491420021), (1.65, -11.5), (1.65, 0), align=None)
    revolve(axis=Axis((20, 11.35, 50), (0, 1, 0)), mode=Mode.SUBTRACT)

    # M3x0.5 螺紋孔2
    with Locations(Plane(origin=(0, 5, 0), x_dir=(1, 0, 0), z_dir=(0, 1, 0))):
        with Locations((-20, -77.224318643), (-20, -117.224318643), (20, -117.224318643), (20, -77.224318643)):
            Hole(M3X0_5_2_D / 2, depth=M3X0_5_2_DEPTH)
            with Locations((0, 0, -(M3X0_5_2_DEPTH + M3X0_5_2_TIP / 2))):  # 118° drill point
                Cone(0, M3X0_5_2_D / 2, M3X0_5_2_TIP, mode=Mode.SUBTRACT)


solid = part.part
